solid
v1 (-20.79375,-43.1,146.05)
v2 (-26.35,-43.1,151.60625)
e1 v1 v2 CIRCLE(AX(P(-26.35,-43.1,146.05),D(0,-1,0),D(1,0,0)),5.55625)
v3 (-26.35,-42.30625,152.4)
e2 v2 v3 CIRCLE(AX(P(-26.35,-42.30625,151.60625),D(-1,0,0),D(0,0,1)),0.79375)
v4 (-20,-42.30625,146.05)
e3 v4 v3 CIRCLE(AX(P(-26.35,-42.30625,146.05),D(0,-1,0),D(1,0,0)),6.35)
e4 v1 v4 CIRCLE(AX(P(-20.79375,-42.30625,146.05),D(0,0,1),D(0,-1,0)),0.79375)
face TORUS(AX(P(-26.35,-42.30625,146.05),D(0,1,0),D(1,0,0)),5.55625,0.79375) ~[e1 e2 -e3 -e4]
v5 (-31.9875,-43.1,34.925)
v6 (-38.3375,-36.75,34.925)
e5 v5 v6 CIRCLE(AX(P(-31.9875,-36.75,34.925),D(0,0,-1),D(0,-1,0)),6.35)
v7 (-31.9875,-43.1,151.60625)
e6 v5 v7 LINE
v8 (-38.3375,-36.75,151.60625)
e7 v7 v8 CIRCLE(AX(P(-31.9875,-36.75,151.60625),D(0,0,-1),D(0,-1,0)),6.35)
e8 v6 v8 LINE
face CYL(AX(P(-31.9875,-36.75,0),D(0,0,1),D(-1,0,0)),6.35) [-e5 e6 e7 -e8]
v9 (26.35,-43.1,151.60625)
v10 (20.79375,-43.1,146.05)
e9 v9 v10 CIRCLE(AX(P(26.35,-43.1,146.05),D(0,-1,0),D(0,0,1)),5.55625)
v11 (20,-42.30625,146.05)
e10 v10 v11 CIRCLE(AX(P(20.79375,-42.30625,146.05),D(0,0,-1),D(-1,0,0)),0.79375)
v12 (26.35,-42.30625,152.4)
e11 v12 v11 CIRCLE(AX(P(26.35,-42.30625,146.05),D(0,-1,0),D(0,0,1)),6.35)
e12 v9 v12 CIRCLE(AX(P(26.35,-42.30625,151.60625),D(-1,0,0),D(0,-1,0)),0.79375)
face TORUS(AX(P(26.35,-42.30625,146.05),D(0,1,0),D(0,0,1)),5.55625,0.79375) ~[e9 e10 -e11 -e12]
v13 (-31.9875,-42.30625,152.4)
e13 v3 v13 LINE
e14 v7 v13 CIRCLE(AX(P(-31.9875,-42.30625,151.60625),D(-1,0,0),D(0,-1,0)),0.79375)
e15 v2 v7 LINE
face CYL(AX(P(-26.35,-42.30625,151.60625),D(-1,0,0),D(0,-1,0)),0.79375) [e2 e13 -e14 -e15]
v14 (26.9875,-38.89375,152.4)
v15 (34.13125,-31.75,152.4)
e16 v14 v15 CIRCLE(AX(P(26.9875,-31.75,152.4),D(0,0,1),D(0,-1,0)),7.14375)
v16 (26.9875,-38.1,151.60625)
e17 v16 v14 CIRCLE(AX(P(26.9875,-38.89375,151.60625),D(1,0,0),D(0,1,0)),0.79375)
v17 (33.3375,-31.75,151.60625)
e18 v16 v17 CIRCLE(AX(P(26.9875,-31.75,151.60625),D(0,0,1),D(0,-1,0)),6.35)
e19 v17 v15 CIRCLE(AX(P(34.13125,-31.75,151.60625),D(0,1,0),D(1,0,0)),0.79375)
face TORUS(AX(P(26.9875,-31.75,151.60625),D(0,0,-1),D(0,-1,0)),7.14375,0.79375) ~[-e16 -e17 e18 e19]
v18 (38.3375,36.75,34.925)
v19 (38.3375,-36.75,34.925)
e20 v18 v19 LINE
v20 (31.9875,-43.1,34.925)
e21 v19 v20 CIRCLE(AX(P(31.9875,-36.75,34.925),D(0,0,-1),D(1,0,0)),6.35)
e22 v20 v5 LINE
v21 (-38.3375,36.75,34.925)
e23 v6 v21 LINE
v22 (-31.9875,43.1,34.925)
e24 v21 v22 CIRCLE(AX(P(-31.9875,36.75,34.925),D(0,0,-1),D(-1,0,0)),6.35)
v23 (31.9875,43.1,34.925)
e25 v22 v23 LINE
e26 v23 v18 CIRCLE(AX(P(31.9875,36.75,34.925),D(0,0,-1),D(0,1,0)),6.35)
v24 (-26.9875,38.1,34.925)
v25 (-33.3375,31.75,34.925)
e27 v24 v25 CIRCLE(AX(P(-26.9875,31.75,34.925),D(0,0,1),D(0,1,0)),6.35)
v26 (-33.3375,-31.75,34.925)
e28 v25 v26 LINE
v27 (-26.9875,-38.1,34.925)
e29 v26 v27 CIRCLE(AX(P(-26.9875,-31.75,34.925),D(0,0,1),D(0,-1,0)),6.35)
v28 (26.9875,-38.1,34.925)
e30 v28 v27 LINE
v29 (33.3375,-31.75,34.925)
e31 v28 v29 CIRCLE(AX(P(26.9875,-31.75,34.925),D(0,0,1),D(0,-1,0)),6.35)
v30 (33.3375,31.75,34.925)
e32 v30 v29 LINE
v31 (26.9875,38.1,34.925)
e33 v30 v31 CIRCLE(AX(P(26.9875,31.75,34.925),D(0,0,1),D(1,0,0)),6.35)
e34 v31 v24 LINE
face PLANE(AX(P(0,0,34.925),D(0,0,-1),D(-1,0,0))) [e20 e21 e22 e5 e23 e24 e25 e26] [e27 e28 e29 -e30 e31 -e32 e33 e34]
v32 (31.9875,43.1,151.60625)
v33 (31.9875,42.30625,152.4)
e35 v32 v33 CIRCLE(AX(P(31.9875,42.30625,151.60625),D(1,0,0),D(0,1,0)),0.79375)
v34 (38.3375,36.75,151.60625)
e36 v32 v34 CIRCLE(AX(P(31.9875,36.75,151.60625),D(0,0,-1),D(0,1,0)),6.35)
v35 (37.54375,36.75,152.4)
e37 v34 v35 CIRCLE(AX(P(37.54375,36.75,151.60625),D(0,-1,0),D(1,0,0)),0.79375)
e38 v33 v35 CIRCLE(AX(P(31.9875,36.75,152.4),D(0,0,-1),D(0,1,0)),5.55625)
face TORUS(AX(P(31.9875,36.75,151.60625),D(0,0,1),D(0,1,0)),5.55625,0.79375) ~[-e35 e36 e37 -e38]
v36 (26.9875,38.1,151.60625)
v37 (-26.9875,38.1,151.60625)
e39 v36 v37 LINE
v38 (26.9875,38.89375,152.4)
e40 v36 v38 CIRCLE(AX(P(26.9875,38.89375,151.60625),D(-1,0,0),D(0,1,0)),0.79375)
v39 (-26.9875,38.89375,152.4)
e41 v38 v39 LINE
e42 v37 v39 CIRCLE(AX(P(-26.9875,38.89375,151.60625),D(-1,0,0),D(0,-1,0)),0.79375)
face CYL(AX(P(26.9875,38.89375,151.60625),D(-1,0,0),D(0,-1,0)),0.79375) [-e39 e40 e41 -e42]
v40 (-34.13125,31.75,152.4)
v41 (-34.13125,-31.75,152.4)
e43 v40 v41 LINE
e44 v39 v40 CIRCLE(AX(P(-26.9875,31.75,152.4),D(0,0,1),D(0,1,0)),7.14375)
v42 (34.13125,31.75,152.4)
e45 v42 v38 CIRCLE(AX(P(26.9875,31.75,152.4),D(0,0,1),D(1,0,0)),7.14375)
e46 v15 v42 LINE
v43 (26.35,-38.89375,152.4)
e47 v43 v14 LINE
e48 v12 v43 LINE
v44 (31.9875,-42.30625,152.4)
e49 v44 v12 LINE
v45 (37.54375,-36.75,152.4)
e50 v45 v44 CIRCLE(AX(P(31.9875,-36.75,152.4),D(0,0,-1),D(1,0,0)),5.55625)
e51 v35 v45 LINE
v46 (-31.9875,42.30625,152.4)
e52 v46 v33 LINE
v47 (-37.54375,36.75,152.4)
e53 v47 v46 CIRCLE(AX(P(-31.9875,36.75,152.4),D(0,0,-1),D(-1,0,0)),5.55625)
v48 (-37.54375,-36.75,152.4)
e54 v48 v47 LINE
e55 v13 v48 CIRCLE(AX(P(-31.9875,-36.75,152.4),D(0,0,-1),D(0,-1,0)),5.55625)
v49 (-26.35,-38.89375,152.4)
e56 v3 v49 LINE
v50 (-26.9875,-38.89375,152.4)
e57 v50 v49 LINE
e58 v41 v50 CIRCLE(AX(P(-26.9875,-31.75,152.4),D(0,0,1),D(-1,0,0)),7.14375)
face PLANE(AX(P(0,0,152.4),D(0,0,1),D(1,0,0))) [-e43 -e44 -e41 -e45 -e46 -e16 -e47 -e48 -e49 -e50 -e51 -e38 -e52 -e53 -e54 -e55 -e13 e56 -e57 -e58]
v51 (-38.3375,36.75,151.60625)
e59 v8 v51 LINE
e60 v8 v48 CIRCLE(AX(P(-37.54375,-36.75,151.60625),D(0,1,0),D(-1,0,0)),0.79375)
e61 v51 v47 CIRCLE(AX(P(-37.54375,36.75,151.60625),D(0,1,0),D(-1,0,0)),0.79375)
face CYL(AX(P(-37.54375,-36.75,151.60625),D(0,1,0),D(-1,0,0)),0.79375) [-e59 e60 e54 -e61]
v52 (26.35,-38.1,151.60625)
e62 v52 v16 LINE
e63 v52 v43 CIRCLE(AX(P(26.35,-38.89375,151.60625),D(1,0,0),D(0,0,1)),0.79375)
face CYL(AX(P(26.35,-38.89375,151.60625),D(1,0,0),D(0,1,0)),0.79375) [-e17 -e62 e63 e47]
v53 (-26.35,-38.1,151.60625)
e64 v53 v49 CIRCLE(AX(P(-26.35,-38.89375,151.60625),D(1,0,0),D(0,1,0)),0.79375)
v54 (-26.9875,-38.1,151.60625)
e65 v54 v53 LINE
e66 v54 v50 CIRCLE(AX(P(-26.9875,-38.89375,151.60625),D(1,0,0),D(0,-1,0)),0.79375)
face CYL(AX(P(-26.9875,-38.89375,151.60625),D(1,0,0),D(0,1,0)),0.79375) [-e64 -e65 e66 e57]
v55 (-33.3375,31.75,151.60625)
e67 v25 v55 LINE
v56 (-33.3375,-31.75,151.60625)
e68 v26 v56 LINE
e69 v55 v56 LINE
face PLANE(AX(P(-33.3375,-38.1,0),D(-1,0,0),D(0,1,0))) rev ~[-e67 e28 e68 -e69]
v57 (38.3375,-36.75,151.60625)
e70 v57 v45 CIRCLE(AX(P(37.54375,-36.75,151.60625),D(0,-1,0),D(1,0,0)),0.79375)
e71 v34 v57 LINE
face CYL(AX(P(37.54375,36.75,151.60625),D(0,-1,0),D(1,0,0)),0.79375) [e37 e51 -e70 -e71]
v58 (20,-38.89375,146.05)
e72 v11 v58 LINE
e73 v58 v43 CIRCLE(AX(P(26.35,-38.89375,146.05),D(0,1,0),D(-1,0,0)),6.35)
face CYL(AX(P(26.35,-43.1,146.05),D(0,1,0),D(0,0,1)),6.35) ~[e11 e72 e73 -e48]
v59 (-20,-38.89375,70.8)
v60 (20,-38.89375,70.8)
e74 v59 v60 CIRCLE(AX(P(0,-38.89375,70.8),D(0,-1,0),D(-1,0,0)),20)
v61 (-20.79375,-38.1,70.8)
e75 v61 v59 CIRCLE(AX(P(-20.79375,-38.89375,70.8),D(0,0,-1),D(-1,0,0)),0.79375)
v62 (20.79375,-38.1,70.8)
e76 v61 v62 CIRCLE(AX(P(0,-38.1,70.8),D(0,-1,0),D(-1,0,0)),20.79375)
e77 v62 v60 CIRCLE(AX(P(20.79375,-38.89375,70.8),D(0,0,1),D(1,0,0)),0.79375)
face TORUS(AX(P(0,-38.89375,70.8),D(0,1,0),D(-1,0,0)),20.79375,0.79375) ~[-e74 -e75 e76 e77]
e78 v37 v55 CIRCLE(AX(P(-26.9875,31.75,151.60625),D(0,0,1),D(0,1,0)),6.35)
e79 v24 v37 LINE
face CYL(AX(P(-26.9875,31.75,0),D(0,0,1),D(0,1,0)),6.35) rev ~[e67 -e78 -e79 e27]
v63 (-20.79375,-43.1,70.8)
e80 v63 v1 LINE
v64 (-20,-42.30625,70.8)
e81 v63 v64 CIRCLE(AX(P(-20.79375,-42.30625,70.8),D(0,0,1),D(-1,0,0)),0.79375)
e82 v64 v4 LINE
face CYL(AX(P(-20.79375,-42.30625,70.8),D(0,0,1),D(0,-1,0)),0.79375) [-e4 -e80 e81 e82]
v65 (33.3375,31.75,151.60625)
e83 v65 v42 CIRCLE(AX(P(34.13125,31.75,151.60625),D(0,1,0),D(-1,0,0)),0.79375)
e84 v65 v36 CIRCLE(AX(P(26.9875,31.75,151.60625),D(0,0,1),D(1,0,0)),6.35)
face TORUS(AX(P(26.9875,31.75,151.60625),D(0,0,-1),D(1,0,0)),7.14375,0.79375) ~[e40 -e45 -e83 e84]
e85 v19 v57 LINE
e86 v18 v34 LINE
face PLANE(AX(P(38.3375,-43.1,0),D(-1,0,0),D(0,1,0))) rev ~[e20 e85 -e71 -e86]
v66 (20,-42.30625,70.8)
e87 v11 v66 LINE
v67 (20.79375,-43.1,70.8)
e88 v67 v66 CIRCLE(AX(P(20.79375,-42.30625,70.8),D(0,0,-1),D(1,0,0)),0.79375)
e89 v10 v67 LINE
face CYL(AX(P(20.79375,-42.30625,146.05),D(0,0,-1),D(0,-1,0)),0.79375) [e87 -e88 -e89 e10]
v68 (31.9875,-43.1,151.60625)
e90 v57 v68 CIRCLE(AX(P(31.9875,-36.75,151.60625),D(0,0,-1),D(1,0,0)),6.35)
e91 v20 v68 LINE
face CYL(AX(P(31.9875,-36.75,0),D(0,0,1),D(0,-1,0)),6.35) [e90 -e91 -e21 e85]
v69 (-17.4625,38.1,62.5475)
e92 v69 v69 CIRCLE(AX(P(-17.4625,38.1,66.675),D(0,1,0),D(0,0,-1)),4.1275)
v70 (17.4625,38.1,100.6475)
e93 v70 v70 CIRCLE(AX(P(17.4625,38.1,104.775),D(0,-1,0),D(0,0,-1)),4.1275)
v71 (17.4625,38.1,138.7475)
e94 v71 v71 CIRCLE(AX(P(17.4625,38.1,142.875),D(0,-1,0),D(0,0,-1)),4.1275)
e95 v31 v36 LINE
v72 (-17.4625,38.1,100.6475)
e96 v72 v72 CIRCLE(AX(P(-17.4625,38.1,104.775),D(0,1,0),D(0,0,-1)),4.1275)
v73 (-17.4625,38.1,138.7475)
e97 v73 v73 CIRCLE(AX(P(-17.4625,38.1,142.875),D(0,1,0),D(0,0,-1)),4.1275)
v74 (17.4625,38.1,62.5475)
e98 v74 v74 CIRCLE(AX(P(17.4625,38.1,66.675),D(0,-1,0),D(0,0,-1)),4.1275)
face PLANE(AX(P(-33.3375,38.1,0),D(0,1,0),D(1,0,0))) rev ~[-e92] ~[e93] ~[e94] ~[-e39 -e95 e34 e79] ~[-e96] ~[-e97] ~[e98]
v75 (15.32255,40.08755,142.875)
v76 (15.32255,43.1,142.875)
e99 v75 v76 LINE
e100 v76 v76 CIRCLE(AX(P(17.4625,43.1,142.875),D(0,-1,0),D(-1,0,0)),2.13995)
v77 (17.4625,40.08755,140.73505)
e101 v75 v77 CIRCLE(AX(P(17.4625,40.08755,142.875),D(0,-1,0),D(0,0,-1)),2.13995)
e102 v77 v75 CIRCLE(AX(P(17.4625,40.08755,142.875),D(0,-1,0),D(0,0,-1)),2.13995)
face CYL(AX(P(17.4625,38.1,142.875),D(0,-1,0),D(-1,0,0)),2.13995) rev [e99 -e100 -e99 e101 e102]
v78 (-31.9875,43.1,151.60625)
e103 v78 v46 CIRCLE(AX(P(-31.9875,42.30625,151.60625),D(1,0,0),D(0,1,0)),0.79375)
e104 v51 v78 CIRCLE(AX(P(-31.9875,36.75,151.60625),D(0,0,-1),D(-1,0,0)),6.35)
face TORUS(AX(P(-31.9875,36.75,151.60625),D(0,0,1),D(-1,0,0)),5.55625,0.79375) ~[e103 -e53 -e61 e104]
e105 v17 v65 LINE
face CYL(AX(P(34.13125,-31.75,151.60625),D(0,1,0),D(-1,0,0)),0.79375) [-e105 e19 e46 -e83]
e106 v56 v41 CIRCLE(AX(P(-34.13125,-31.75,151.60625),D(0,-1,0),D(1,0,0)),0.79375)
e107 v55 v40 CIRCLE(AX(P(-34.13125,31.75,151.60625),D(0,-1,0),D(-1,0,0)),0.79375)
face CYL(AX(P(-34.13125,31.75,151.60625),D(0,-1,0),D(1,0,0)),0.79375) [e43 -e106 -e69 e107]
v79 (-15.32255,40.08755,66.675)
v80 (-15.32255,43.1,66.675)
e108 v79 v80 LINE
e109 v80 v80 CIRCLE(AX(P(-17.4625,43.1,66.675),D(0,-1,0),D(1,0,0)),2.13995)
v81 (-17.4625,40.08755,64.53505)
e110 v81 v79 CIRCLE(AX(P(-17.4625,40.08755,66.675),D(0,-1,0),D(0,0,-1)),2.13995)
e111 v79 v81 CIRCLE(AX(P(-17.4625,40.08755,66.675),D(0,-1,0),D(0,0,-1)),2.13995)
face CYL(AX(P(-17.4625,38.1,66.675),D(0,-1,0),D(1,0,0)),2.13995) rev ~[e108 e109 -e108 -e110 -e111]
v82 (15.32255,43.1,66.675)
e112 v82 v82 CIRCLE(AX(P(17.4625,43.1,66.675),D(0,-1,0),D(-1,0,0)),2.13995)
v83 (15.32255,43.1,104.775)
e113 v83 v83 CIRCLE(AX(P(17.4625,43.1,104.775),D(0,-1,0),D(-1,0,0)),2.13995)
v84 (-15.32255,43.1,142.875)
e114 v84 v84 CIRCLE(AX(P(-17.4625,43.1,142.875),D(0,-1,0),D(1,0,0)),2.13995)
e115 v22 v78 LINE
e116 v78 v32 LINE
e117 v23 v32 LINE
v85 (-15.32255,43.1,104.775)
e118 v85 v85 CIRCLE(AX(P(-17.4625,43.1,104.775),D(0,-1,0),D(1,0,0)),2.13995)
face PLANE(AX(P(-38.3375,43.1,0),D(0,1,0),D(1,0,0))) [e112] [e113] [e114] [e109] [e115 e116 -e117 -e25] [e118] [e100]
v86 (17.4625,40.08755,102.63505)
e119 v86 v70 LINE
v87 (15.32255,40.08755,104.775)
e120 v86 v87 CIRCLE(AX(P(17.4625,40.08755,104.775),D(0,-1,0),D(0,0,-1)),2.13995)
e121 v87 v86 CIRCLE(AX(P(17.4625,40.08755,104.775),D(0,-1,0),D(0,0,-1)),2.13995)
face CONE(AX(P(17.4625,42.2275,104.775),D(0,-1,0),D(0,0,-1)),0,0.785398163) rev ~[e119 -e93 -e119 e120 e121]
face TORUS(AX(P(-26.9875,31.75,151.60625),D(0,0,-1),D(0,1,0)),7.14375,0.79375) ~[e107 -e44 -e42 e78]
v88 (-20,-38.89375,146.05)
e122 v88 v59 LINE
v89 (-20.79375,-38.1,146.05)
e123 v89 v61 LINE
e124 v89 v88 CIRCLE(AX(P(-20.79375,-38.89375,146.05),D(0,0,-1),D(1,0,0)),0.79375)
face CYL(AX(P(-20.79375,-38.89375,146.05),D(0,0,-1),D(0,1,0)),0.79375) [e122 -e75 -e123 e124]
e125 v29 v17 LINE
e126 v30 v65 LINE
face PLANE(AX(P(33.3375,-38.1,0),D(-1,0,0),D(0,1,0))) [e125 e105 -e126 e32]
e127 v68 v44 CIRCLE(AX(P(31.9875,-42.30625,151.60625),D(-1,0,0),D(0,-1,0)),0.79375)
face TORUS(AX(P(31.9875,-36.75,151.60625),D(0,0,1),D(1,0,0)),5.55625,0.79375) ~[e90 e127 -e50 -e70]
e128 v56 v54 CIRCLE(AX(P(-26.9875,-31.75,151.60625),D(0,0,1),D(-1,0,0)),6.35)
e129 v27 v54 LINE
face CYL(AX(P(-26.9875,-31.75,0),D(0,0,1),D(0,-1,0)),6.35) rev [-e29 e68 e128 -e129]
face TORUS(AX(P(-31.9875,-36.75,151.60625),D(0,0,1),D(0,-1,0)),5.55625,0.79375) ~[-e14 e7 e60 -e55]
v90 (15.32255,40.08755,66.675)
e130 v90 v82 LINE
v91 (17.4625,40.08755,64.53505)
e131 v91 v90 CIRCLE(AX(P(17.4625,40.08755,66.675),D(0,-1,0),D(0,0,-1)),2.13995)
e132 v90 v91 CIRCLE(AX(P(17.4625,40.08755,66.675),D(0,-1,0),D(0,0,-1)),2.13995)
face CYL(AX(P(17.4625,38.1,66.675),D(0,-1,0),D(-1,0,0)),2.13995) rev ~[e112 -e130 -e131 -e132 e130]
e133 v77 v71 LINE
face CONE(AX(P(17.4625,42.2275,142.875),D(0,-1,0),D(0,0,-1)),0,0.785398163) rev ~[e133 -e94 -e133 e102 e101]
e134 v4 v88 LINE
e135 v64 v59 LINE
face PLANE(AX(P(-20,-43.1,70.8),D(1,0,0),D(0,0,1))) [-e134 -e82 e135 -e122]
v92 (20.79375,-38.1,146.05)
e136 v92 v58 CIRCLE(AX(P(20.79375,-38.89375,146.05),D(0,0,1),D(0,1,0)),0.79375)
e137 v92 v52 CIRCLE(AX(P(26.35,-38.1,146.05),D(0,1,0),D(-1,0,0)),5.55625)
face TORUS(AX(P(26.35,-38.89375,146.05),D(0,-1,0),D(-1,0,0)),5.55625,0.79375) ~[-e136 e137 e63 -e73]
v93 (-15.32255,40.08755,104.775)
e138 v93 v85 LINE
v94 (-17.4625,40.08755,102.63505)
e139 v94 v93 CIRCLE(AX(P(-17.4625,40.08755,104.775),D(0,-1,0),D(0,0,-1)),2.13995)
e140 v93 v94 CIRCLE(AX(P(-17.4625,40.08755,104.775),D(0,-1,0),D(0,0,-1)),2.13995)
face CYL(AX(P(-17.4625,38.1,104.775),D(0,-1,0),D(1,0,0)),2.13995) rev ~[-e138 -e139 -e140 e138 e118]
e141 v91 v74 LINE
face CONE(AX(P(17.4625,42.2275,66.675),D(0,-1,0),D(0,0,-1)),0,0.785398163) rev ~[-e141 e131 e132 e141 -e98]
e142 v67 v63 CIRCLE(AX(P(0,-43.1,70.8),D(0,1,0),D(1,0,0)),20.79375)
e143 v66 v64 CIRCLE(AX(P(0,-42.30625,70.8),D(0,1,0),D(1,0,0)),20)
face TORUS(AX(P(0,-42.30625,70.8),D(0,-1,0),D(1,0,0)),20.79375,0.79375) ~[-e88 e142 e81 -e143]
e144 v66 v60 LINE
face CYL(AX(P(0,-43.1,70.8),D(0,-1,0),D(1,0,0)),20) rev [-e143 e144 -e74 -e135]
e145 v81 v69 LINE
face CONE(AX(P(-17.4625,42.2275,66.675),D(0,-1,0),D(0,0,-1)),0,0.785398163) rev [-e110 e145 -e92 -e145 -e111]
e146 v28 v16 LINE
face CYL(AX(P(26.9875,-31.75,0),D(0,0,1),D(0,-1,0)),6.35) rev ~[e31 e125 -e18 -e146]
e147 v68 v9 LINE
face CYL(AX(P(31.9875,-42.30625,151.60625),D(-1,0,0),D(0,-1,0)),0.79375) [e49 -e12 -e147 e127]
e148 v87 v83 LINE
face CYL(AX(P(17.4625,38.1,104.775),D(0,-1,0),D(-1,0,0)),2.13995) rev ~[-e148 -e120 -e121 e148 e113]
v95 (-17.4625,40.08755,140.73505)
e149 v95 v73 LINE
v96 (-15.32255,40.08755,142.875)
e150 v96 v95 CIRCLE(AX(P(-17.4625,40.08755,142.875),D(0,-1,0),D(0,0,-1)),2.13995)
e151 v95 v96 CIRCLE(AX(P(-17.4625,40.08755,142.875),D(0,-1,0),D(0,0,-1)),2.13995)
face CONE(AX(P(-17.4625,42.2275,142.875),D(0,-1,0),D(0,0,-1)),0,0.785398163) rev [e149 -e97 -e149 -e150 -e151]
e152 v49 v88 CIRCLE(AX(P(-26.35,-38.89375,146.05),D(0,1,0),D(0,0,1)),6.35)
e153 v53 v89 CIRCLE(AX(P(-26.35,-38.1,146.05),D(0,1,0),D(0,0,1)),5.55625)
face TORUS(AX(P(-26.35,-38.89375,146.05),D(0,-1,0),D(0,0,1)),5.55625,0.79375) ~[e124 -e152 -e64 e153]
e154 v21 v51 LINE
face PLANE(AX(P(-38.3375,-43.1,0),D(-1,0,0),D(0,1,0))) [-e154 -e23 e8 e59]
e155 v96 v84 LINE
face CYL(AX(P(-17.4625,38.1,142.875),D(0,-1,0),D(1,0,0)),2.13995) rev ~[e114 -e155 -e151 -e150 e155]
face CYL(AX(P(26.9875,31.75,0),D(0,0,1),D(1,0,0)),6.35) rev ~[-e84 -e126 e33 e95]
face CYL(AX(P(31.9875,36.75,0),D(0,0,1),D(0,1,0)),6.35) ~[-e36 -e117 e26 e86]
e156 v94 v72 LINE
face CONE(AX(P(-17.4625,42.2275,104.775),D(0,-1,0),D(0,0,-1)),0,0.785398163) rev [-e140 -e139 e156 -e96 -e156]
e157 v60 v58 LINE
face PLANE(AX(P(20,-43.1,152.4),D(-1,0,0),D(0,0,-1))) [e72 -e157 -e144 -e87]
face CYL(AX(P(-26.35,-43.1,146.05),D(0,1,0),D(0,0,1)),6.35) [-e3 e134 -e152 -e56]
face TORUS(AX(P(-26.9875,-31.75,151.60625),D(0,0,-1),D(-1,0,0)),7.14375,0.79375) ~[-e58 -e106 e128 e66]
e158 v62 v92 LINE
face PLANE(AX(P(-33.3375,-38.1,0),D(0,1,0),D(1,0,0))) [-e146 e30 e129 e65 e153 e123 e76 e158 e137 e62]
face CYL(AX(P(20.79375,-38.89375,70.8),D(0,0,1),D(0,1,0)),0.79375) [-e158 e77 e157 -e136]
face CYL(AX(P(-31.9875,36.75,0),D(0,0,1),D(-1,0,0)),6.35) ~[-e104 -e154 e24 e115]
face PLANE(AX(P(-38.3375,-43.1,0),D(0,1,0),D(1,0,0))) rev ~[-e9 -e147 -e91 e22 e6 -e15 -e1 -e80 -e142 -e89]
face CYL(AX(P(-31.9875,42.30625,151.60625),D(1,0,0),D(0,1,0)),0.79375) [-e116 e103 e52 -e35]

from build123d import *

# Parameters (mm, degrees)
SKETCH2_W               = 76.675
SKETCH2_H               = 86.2
SKETCH2_W_2             = 66.675
SKETCH2_H_2             = 76.2
BOSS_EXTRUDE1_DEPTH     = 152.4
CUT_EXTRUDE1_REACH      = 181.237
FILLET1_R               = 6.35
SKETCH5_R               = 2.13995
CUT_EXTRUDE2_DEPTH      = 177.886867535
LPATTERN1_COUNT         = 4
LPATTERN1_PITCH         = 38.1
MIRROR3_COPY_1_SKETCH_R = 2.13995
MIRROR3_COPY_1_DEPTH    = 177.886867535
MIRROR3_COPY_2_SKETCH_R = 2.13995
MIRROR3_COPY_2_DEPTH    = 177.886867535
MIRROR3_COPY_3_SKETCH_R = 2.13995
MIRROR3_COPY_3_DEPTH    = 177.886867535
CUT_EXTRUDE3_START      = -34.925
CUT_EXTRUDE3_DEPTH      = 34.925
FILLET2_R               = 0.79375


with BuildPart() as part:
    # Sketch2 → Boss-Extrude1 (new body)
    with BuildSketch(Plane.XY):
        Rectangle(SKETCH2_W, SKETCH2_H)
        Rectangle(SKETCH2_W_2, SKETCH2_H_2, mode=Mode.SUBTRACT)
    extrude(amount=BOSS_EXTRUDE1_DEPTH)

    # Sketch3 → Cut-Extrude1 (cut, up to next)
    with BuildSketch(Plane.XZ.offset(43.1), mode=Mode.PRIVATE) as cut_extrude1_sk1:
        with BuildLine():
            Line((20, 152.4), (20, 70.8))
            ThreePointArc((20, 70.8), (0, 50.8), (-20, 70.8))
            Line((-20, 70.8), (-20, 152.4))
            ThreePointArc((-20, 152.4), (0, 172.4), (20, 152.4))
        make_face()
    cut_extrude1_tool1 = extrude(cut_extrude1_sk1.sketch, amount=-CUT_EXTRUDE1_REACH, mode=Mode.PRIVATE) & part.part
    add(cut_extrude1_tool1.solids().sort_by_distance((0, -43.1, 111.6))[0], mode=Mode.SUBTRACT)

    # Fillet1
    fillet1_edges = [part.edges().sort_by_distance(p)[0] for p in [
        (-38.3375, 43.1, 76.2),
        (-38.3375, -43.1, 76.2),
        (38.3375, -43.1, 76.2),
        (38.3375, 43.1, 76.2),
        (33.3375, 38.1, 76.2),
        (-33.3375, 38.1, 76.2),
        (-33.3375, -38.1, 76.2),
        (33.3375, -38.1, 76.2),
        (20, -40.6, 152.4),
        (-20, -40.6, 152.4),
    ]]
    fillet(fillet1_edges, radius=FILLET1_R)

    # Sketch5 → Cut-Extrude2 (cut, through all)
    with BuildSketch(Plane.XZ.offset(-38.1)):
        with Locations((-17.4625, 142.875)):
            Circle(SKETCH5_R)
    cut_extrude2 = extrude(amount=-CUT_EXTRUDE2_DEPTH, mode=Mode.SUBTRACT)

    # Sketch6 → Cut-Revolve1 (revolve, cut)
    with BuildSketch(Plane(origin=(-17.4625, 0, 0), x_dir=(0, -1, 0), z_dir=(-1, 0, 0))):
        Polygon((-38.1, 138.7475), (-38.1, 142.875), (-42.2275, 142.875), align=None)
    cut_revolve1 = revolve(axis=Axis((-17.4625, 38.1, 142.875), (0, 1, 0)), mode=Mode.SUBTRACT)

    # LPattern1: Cut-Extrude2, Cut-Revolve1 ×4
    with Locations(*[(0, 0, -i * LPATTERN1_PITCH) for i in range(1, LPATTERN1_COUNT)]):
        add(cut_extrude2, mode=Mode.SUBTRACT)
        add(cut_revolve1, mode=Mode.SUBTRACT)

    # Mirror3: Cut-Extrude2, Cut-Revolve1 across plane
    add(cut_extrude2.mirror(Plane(origin=(0, 0, 0), x_dir=(0, 0, 1), z_dir=(1, 0, 0))), mode=Mode.SUBTRACT)
    add(cut_revolve1.mirror(Plane(origin=(0, 0, 0), x_dir=(0, 0, 1), z_dir=(1, 0, 0))), mode=Mode.SUBTRACT)

    # Mirror3 copy 1 sketch → Mirror3 copy 1 (cut, through all)
    with BuildSketch(Plane(origin=(0, 38.1, -38.1), x_dir=(-1, 0, 0), z_dir=(0, -1, 0))):
        with Locations((-17.4625, -142.875)):
            Circle(MIRROR3_COPY_1_SKETCH_R)
    extrude(amount=-MIRROR3_COPY_1_DEPTH, mode=Mode.SUBTRACT)

    # Mirror3 copy 2 sketch → Mirror3 copy 2 (cut, through all)
    with BuildSketch(Plane(origin=(0, 38.1, -76.2), x_dir=(-1, 0, 0), z_dir=(0, -1, 0))):
        with Locations((-17.4625, -142.875)):
            Circle(MIRROR3_COPY_2_SKETCH_R)
    extrude(amount=-MIRROR3_COPY_2_DEPTH, mode=Mode.SUBTRACT)

    # Mirror3 copy 3 sketch → Mirror3 copy 3 (cut, through all)
    with BuildSketch(Plane(origin=(0, 38.1, -114.3), x_dir=(-1, 0, 0), z_dir=(0, -1, 0))):
        with Locations((-17.4625, -142.875)):
            Circle(MIRROR3_COPY_3_SKETCH_R)
    extrude(amount=-MIRROR3_COPY_3_DEPTH, mode=Mode.SUBTRACT)

    # Mirror3 copy 4 sketch → Mirror3 copy 4 (revolve, cut)
    with BuildSketch(Plane(origin=(17.4625, 0, -38.1), x_dir=(0, -1, 0), z_dir=(1, 0, 0))):
        Polygon((-38.1, -138.7475), (-38.1, -142.875), (-42.2275, -142.875), align=None)
    revolve(axis=Axis((17.4625, 38.1, 104.775), (0, -1, 0)), mode=Mode.SUBTRACT)

    # Mirror3 copy 5 sketch → Mirror3 copy 5 (revolve, cut)
    with BuildSketch(Plane(origin=(17.4625, 0, -76.2), x_dir=(0, -1, 0), z_dir=(1, 0, 0))):
        Polygon((-38.1, -138.7475), (-38.1, -142.875), (-42.2275, -142.875), align=None)
    revolve(axis=Axis((17.4625, 38.1, 66.675), (0, -1, 0)), mode=Mode.SUBTRACT)

    # Mirror3 copy 6 sketch → Mirror3 copy 6 (revolve, cut)
    with BuildSketch(Plane(origin=(17.4625, 0, -114.3), x_dir=(0, -1, 0), z_dir=(1, 0, 0))):
        Polygon((-38.1, -138.7475), (-38.1, -142.875), (-42.2275, -142.875), align=None)
    revolve(axis=Axis((17.4625, 38.1, 28.575), (0, -1, 0)), mode=Mode.SUBTRACT)

    # Sketch7 → Cut-Extrude3 (cut)
    with BuildSketch(Plane(origin=(0, 0, 0), x_dir=(-1, 0, 0), z_dir=(0, 0, -1)).offset(CUT_EXTRUDE3_START)):
        with BuildLine():
            Line((38.3375, -36.75), (38.3375, 36.75))
            ThreePointArc((38.3375, 36.75), (36.477628061, 41.240128061), (31.9875, 43.1))
            Line((31.9875, 43.1), (-31.9875, 43.1))
            ThreePointArc((-31.9875, 43.1), (-36.477628061, 41.240128061), (-38.3375, 36.75))
            Line((-38.3375, 36.75), (-38.3375, -36.75))
            ThreePointArc((-38.3375, -36.75), (-36.477628061, -41.240128061), (-31.9875, -43.1))
            Line((-31.9875, -43.1), (31.9875, -43.1))
            ThreePointArc((31.9875, -43.1), (36.477628061, -41.240128061), (38.3375, -36.75))
        make_face()
    extrude(amount=CUT_EXTRUDE3_DEPTH, mode=Mode.SUBTRACT)

    # Fillet2
    fillet2_edges = [part.edges().sort_by_distance(p)[0] for p in [
        (-21.859871939, -43.1, 150.540128061),
        (-29.16875, -43.1, 152.4),
        (-36.477628061, -41.240128061, 152.4),
        (-38.3375, 0, 152.4),
        (-36.477628061, 41.240128061, 152.4),
        (0, 43.1, 152.4),
        (36.477628061, 41.240128061, 152.4),
        (38.3375, 0, 152.4),
        (36.477628061, -41.240128061, 152.4),
        (29.16875, -43.1, 152.4),
        (21.859871939, -43.1, 150.540128061),
        (20, -43.1, 108.425),
        (0, -43.1, 50.8),
        (-20, -38.1, 108.425),
        (-21.859871939, -38.1, 150.540128061),
        (-26.66875, -38.1, 152.4),
        (-31.477628061, -36.240128061, 152.4),
        (-33.3375, 0, 152.4),
        (-31.477628061, 36.240128061, 152.4),
        (0, 38.1, 152.4),
        (31.477628061, 36.240128061, 152.4),
        (33.3375, 0, 152.4),
        (31.477628061, -36.240128061, 152.4),
        (26.66875, -38.1, 152.4),
        (21.859871939, -38.1, 150.540128061),
        (20, -38.1, 108.425),
        (-20, -43.1, 108.425),
        (0, -38.1, 50.8),
    ]]
    fillet(fillet2_edges, radius=FILLET2_R)


solid = part.part
